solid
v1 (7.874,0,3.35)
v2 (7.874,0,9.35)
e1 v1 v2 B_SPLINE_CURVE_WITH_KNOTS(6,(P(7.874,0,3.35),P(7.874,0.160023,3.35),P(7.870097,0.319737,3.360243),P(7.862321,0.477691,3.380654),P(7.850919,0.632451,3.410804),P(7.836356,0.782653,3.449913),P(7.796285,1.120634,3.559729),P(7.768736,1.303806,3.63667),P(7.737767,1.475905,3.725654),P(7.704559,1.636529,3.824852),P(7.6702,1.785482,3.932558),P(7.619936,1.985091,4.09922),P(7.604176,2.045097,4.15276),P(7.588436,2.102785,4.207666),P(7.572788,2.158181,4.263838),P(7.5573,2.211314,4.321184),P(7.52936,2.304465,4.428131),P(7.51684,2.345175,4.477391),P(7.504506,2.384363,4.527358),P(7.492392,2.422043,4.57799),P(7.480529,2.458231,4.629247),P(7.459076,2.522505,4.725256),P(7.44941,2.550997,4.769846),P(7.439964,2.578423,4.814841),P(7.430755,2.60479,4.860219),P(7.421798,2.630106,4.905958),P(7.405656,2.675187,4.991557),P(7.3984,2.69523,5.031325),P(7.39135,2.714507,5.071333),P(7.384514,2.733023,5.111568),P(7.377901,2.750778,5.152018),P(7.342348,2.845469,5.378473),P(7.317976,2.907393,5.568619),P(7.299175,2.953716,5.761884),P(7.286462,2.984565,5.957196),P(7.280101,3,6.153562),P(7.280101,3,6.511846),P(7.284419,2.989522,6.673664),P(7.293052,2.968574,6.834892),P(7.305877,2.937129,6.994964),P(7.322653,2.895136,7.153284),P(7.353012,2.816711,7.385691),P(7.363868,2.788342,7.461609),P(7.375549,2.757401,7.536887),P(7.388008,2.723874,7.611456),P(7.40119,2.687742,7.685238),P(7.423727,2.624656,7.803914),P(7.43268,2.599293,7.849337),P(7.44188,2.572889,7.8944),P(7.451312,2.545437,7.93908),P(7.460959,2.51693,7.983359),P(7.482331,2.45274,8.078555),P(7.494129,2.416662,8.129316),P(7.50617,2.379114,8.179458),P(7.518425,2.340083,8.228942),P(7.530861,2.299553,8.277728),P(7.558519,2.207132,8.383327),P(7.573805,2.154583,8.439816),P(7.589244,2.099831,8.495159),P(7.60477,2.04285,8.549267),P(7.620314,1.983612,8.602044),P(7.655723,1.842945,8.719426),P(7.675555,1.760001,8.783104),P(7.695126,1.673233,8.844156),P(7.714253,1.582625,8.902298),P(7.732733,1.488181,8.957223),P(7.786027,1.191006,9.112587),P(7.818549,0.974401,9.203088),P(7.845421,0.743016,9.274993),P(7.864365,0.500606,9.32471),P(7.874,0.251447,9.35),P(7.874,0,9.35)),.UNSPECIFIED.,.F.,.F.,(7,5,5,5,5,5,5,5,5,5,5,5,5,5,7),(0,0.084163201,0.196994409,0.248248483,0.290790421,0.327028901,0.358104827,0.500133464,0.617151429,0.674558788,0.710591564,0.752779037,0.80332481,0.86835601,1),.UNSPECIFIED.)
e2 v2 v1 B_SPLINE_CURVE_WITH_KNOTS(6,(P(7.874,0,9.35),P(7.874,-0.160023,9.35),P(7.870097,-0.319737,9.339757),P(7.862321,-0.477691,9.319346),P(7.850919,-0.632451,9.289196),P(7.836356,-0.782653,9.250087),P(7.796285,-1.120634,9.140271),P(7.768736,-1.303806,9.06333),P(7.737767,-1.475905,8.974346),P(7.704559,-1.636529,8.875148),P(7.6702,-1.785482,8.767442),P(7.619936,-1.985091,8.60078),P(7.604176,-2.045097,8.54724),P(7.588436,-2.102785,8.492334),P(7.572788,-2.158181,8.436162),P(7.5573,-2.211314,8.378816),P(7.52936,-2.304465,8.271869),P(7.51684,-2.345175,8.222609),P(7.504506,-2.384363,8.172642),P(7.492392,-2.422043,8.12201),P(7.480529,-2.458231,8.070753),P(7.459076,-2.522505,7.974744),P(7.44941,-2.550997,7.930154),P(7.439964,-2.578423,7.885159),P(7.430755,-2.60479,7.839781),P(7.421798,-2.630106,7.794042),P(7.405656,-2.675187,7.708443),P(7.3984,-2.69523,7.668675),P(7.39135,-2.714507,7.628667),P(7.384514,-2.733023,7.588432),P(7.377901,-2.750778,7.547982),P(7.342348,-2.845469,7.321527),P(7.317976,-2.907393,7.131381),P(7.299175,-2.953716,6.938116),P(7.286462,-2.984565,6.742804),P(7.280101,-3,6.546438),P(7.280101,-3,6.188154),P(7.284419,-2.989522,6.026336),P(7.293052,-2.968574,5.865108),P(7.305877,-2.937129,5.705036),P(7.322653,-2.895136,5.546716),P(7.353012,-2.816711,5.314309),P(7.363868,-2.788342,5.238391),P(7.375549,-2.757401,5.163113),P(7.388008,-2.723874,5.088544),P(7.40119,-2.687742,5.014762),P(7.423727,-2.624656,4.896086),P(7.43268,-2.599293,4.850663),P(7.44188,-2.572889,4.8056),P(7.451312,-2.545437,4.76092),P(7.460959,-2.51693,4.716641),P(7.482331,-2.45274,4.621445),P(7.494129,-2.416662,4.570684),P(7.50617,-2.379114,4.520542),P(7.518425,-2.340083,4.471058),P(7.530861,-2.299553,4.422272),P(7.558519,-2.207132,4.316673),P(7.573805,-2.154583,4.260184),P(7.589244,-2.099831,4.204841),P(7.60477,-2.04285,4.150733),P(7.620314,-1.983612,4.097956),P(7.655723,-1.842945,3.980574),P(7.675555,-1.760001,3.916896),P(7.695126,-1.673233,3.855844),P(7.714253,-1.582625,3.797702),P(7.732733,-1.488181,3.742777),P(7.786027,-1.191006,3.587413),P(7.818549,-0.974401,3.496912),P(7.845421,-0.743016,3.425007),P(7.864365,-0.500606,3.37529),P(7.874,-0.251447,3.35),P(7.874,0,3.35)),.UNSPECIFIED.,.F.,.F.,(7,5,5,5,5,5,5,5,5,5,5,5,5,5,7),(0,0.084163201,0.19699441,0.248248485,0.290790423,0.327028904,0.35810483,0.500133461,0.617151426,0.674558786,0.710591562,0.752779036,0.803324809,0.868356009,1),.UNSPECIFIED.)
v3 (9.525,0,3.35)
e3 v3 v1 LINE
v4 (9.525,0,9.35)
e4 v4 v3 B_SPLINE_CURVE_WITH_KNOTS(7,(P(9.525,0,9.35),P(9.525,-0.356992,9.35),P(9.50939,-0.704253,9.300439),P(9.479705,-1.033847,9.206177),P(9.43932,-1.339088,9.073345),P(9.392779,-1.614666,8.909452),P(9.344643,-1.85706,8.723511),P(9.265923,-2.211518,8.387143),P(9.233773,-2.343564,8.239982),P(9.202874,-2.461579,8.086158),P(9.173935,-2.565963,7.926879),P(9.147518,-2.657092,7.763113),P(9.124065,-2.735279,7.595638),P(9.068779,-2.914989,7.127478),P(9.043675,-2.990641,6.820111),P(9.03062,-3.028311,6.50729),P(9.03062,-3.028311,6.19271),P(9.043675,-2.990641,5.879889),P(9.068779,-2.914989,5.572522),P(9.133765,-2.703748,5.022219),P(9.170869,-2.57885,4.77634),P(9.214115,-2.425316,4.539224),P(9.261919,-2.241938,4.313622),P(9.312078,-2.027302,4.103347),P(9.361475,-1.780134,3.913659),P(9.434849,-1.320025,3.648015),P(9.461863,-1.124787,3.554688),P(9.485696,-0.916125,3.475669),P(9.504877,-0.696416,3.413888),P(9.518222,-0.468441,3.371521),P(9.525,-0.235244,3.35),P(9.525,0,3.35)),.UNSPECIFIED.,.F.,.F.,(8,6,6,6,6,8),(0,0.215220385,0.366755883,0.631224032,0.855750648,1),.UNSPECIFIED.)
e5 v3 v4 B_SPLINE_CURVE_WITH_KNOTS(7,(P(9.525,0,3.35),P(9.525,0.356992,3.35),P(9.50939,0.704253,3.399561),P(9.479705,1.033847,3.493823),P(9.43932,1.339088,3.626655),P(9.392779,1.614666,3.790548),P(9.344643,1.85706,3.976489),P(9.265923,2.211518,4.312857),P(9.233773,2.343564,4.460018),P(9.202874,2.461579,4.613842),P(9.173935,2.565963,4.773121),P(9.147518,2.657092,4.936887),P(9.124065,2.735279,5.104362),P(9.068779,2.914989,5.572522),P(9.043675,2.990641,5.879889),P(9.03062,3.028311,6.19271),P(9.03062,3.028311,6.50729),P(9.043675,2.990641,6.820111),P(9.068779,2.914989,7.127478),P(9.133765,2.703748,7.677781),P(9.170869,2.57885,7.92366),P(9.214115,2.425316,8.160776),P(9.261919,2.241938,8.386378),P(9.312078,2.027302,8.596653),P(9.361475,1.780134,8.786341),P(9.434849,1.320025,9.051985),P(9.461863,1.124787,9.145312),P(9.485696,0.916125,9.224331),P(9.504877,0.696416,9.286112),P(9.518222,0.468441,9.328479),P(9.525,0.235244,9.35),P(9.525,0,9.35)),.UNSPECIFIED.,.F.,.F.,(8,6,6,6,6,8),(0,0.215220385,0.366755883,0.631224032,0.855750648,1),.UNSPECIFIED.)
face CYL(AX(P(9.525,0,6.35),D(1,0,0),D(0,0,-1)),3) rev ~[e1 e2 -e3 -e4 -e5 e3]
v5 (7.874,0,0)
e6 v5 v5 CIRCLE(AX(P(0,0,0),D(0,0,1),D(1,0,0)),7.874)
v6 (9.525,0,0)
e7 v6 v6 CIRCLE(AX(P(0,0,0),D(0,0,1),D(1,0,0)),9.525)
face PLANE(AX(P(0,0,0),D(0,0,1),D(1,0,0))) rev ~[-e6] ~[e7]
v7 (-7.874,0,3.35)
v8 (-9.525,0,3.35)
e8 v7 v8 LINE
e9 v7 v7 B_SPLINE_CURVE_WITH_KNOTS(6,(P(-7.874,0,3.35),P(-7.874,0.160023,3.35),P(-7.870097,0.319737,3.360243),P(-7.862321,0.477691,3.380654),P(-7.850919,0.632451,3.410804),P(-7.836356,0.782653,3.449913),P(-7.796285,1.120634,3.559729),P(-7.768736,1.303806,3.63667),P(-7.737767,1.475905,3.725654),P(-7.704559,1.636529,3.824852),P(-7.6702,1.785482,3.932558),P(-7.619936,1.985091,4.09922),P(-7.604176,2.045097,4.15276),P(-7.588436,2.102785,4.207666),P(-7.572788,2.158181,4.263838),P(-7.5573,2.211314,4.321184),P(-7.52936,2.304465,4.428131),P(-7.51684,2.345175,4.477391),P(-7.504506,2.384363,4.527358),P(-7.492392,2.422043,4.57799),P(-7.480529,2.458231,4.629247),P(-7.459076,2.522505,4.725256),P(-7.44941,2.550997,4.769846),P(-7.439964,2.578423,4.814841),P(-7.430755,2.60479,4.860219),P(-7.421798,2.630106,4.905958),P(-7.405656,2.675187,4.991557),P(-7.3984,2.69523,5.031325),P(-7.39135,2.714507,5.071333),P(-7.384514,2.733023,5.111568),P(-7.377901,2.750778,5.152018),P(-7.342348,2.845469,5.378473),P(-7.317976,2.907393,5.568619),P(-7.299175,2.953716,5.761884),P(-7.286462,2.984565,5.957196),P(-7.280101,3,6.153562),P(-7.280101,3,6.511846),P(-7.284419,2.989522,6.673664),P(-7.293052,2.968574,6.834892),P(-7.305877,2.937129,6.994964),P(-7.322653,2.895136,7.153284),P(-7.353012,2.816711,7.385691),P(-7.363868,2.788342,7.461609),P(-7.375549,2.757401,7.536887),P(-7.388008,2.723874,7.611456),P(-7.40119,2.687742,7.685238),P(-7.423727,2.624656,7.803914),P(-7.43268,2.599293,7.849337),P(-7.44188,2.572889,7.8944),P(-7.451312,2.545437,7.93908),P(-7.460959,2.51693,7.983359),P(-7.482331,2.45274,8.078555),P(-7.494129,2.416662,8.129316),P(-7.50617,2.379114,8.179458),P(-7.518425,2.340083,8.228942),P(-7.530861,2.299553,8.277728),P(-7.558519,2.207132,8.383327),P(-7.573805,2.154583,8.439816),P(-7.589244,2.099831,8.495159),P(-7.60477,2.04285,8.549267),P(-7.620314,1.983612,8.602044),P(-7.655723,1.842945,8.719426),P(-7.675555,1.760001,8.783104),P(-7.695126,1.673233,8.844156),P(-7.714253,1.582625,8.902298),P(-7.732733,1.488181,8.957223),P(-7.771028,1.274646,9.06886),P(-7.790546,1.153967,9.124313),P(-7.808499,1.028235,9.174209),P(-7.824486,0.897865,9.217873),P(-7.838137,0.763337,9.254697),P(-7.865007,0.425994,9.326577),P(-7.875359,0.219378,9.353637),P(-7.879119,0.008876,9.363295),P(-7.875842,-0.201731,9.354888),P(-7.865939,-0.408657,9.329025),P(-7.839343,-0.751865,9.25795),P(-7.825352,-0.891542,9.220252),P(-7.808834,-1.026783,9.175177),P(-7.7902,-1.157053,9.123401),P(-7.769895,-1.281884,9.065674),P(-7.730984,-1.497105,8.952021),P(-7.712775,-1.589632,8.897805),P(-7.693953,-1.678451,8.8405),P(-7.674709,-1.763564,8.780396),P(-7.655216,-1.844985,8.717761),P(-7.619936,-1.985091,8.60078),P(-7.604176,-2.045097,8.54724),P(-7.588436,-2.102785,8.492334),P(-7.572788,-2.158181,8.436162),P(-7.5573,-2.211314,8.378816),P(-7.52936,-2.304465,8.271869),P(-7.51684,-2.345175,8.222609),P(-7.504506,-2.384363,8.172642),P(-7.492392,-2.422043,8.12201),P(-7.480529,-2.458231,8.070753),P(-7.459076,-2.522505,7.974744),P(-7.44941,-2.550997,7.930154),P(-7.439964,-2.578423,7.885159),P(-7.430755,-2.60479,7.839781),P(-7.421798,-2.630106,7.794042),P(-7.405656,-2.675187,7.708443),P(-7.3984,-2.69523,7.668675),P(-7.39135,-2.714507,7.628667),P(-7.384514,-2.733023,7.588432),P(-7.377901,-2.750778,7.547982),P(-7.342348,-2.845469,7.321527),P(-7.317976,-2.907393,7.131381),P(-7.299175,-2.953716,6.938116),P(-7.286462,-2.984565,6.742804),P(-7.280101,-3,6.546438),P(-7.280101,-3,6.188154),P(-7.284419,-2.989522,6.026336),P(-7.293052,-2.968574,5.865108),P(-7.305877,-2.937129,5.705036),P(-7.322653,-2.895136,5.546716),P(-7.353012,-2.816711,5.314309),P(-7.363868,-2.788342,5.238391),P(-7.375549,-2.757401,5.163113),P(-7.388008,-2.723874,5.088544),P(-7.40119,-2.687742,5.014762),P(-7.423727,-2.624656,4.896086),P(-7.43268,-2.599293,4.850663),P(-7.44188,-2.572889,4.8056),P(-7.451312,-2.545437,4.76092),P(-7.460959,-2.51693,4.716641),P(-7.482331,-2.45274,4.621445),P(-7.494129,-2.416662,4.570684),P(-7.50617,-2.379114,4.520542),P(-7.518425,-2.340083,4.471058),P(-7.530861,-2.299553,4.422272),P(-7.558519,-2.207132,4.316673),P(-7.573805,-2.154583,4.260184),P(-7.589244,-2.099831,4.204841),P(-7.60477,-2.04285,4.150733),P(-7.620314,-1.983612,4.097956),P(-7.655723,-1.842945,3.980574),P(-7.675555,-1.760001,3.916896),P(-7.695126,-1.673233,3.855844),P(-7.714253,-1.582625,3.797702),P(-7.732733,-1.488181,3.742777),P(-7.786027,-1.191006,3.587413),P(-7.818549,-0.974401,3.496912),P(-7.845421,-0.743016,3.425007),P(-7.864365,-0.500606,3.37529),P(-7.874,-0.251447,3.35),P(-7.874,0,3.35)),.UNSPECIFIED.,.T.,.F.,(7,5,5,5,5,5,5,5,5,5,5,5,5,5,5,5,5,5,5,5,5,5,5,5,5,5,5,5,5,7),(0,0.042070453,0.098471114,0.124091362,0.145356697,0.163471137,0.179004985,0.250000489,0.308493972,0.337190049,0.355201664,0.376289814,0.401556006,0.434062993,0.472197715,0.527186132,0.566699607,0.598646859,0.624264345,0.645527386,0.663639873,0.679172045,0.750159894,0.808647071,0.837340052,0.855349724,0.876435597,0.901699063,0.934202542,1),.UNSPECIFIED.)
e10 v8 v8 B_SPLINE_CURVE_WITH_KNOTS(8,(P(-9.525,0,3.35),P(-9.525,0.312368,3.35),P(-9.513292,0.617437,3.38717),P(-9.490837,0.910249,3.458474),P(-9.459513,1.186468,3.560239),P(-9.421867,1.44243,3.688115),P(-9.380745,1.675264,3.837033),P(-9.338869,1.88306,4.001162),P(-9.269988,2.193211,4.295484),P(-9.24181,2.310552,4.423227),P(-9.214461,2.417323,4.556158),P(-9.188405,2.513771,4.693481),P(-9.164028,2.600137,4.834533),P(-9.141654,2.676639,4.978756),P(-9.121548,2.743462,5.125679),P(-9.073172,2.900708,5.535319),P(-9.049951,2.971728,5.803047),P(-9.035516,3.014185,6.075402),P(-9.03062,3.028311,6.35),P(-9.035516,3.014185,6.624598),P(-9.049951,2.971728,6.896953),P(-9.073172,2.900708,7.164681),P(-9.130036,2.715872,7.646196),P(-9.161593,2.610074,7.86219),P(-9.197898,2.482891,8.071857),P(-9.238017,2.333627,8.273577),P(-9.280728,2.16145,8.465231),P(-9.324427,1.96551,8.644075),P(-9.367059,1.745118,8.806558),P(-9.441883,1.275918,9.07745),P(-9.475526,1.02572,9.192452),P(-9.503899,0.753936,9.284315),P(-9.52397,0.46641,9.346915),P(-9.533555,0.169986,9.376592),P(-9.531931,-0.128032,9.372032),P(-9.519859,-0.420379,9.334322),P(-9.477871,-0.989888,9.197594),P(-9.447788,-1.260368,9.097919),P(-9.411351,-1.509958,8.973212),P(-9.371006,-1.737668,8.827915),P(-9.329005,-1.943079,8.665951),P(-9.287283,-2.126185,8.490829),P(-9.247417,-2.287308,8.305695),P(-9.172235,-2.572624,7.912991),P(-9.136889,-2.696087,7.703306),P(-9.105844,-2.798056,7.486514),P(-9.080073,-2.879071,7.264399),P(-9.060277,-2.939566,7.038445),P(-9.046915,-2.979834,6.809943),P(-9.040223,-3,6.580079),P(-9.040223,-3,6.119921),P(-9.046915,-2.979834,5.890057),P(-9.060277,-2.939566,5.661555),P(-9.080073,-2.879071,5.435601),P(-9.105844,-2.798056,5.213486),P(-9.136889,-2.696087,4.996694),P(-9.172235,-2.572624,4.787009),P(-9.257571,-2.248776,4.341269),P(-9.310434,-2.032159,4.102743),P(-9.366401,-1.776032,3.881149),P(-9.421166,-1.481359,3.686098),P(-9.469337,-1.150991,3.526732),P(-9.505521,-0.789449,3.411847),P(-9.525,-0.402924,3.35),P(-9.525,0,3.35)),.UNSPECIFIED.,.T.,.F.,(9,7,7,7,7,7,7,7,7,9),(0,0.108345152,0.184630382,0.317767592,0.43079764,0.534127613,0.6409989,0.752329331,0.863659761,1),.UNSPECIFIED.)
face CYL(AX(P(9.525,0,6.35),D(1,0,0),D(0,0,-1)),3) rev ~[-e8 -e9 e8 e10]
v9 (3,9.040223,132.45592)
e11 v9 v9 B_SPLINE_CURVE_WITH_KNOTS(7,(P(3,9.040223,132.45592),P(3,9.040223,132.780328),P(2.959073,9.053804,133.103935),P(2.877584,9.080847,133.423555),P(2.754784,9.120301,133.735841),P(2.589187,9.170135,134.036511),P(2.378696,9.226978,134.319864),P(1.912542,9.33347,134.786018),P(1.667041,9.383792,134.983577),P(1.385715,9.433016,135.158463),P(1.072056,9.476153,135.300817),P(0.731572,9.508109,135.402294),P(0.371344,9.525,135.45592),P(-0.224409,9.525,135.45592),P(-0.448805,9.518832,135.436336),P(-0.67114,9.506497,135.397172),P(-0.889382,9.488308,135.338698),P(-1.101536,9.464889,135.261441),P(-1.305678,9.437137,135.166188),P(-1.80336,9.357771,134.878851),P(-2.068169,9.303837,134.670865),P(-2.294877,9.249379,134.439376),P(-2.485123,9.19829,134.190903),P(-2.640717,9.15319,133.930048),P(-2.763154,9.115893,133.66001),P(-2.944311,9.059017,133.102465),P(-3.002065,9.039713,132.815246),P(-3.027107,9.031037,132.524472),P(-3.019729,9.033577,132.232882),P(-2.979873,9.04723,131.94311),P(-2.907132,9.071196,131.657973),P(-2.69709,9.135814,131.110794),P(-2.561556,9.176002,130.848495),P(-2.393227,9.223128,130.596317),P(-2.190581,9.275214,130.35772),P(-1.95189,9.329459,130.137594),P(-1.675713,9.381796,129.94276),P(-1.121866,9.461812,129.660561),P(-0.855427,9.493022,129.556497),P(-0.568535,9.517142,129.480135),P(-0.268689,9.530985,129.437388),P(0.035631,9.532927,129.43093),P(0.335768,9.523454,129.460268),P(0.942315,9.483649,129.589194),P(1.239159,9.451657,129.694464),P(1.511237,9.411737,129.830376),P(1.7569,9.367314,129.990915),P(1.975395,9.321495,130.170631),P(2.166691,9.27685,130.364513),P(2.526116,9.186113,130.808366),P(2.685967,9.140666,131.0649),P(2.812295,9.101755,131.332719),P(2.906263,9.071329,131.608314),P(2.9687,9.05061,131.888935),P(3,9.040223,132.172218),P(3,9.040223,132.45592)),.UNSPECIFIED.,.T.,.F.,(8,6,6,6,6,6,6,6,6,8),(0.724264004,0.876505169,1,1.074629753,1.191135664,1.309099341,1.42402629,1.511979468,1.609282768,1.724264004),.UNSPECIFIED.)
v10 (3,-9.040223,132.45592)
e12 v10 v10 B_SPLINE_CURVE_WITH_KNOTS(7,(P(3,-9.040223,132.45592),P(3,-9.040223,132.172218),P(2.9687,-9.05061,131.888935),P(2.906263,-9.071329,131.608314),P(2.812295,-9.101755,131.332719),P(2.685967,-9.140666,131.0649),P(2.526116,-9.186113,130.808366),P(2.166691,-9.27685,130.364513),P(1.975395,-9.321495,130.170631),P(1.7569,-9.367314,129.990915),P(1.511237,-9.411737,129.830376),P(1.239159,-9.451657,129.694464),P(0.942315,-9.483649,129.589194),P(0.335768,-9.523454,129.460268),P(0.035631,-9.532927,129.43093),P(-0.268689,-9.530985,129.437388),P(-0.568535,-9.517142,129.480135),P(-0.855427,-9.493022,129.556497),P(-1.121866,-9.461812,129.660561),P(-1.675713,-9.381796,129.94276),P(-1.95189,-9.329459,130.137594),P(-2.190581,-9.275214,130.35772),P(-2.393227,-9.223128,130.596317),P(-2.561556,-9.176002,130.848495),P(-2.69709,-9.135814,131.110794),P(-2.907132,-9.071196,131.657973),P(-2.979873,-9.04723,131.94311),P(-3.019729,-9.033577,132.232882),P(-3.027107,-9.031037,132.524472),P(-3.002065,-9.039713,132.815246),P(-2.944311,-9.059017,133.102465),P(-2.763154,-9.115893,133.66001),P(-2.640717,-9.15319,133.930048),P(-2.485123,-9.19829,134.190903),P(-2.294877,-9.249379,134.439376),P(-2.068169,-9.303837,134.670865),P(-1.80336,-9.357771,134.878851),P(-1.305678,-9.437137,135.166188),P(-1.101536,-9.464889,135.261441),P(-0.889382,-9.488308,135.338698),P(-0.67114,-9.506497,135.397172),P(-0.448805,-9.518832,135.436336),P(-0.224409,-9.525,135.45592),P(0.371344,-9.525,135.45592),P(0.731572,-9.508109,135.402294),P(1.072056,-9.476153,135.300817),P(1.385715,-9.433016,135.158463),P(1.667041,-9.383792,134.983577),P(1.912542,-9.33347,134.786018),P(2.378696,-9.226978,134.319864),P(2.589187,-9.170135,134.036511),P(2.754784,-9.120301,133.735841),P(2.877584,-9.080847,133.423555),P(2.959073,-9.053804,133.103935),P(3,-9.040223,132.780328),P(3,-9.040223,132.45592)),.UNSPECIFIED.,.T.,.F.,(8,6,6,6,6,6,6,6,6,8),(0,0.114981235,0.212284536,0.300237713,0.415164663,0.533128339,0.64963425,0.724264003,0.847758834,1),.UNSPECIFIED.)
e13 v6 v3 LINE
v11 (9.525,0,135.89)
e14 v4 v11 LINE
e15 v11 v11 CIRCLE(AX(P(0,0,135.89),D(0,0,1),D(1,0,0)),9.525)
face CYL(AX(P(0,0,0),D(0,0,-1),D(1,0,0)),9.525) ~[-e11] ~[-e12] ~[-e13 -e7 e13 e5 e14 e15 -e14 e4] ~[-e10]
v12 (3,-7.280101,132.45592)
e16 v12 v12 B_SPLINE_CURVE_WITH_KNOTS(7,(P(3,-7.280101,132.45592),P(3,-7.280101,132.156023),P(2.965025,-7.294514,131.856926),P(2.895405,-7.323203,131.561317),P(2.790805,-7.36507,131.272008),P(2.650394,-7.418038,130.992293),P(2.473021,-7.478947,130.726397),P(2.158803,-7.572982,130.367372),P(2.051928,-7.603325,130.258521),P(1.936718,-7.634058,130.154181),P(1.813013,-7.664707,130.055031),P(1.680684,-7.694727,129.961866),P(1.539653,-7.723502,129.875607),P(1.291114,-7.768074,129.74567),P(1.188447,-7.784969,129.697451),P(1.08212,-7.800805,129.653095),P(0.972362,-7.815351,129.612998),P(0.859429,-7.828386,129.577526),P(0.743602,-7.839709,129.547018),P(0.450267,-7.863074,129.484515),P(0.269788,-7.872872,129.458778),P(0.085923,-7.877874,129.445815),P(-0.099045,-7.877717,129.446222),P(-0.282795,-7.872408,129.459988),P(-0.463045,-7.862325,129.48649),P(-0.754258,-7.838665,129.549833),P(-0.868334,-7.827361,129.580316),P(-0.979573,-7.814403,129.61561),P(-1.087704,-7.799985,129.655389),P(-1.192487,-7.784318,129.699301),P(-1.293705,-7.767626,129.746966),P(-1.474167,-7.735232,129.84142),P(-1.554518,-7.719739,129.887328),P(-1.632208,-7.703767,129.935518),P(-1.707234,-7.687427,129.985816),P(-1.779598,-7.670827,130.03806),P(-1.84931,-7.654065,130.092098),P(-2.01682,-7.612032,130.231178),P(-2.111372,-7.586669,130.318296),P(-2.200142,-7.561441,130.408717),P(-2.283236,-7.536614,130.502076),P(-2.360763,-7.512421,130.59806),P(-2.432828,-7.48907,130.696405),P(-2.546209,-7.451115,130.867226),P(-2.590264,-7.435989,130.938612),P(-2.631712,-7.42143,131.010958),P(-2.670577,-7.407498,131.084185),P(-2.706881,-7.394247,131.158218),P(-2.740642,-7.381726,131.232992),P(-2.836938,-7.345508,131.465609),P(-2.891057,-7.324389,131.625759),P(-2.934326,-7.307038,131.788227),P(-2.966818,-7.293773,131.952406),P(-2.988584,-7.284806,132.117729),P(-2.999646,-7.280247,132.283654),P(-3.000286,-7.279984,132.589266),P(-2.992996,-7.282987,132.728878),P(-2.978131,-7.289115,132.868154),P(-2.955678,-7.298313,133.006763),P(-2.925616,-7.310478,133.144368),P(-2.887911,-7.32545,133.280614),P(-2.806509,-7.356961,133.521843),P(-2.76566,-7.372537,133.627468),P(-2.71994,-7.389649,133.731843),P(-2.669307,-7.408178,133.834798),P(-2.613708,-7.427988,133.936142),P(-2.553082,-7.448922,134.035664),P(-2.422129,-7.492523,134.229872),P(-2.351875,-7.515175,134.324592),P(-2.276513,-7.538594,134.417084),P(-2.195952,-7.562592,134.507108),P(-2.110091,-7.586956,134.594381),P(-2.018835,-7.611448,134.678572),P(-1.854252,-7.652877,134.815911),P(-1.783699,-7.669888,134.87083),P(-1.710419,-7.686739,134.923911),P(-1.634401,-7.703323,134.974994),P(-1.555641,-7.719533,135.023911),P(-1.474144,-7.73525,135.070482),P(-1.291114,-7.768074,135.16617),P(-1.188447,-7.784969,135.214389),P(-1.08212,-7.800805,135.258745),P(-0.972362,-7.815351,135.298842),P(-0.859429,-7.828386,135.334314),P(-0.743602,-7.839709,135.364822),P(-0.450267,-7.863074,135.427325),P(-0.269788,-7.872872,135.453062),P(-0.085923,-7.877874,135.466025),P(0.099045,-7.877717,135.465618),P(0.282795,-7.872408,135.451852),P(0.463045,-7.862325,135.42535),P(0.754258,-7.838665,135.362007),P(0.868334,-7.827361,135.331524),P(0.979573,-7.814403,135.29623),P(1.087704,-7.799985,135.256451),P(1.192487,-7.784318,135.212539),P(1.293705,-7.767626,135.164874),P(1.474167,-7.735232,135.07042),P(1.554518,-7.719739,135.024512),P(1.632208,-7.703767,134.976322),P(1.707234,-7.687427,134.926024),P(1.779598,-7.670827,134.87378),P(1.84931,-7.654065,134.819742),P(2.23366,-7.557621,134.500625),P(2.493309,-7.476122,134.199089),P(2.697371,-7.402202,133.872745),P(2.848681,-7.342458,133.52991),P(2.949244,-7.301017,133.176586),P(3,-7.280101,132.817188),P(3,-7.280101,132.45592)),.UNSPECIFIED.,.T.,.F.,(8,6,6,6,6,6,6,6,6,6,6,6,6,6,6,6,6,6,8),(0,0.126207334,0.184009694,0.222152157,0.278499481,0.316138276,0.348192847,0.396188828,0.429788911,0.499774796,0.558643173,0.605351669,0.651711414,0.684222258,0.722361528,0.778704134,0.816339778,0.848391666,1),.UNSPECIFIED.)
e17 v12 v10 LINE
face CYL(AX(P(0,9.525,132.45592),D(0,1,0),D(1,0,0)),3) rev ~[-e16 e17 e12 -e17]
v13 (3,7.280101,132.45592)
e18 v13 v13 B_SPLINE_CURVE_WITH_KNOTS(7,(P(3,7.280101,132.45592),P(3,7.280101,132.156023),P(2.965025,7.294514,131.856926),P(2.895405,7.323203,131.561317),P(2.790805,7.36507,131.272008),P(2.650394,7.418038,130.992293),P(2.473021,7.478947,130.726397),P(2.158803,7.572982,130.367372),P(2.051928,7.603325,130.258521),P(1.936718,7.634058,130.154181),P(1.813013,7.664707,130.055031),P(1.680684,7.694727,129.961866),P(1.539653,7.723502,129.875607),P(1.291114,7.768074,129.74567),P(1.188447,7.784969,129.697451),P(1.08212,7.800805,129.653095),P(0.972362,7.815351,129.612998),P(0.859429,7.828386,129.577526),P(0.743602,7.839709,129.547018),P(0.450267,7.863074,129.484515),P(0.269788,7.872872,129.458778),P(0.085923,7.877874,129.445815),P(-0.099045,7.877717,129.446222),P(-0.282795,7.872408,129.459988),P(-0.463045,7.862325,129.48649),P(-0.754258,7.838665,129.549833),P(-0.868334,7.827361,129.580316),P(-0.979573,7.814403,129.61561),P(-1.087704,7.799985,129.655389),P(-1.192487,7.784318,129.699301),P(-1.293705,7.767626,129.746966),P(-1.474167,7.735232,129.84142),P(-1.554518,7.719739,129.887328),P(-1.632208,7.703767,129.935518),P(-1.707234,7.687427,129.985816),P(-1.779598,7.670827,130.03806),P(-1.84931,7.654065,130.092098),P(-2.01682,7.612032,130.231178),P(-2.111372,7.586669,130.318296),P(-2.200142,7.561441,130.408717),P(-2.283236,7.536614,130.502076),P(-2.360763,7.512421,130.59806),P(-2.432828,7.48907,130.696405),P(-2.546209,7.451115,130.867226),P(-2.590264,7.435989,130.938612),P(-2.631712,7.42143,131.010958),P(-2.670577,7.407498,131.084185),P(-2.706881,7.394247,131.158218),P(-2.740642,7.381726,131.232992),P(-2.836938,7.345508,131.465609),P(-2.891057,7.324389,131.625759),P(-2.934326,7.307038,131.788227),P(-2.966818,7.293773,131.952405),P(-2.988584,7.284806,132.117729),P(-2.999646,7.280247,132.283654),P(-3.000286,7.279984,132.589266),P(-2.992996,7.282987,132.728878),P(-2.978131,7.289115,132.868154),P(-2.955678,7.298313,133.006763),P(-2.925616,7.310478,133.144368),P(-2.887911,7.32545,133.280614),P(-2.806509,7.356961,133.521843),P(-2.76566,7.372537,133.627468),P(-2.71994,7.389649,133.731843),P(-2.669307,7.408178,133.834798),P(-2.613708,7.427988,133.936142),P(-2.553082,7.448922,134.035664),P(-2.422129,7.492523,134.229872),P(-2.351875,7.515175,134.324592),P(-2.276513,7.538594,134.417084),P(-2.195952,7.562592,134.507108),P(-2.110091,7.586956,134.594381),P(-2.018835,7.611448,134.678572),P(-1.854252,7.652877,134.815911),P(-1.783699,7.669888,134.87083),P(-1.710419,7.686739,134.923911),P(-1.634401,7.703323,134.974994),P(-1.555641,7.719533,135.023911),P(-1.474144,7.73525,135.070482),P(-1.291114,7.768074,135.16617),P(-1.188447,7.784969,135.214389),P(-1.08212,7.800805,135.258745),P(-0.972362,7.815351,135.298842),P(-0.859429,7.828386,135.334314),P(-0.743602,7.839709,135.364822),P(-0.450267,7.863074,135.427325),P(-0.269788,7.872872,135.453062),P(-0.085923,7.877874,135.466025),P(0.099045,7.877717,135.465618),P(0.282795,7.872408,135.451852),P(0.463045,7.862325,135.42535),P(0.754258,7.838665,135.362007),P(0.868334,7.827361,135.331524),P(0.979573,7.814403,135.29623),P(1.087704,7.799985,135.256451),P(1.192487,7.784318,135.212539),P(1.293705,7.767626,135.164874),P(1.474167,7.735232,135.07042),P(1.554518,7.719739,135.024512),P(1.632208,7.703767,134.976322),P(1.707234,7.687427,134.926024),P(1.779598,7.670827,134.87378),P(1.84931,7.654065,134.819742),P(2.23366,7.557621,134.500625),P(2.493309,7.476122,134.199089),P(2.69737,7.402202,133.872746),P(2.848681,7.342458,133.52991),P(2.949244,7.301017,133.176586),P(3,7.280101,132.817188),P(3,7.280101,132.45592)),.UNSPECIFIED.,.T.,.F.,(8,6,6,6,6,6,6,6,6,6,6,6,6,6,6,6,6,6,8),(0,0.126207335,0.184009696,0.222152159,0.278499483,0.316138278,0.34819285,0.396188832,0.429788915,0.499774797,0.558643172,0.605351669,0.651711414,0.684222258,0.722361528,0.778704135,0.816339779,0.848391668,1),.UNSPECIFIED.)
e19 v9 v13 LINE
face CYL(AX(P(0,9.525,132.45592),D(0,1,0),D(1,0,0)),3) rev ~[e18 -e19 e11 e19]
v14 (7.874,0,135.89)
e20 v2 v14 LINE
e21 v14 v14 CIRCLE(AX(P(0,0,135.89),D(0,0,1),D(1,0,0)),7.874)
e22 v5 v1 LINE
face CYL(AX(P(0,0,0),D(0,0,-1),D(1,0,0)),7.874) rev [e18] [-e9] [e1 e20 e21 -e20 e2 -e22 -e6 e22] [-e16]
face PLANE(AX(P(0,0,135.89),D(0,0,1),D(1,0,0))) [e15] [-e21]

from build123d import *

# Parameters (mm, degrees)
SKETCH1_R           = 9.525
SKETCH1_R_2         = 7.874
BOSS_EXTRUDE1_DEPTH = 135.89
SKETCH2_R           = 3
CUT_EXTRUDE1_DEPTH  = 138.80592
SKETCH3_R           = 3
CUT_EXTRUDE2_DEPTH  = 138.80592


with BuildPart() as part:
    # Sketch1 → Boss-Extrude1 (new body)
    with BuildSketch(Plane.XY):
        Circle(SKETCH1_R)
        Circle(SKETCH1_R_2, mode=Mode.SUBTRACT)
    extrude(amount=BOSS_EXTRUDE1_DEPTH)

    # Sketch2 → Cut-Extrude1 (cut)
    with BuildSketch(Plane(origin=(0, 9.525, 0), x_dir=(1, 0, 0), z_dir=(0, 1, 0))):
        with Locations((0, -132.45592)):
            Circle(SKETCH2_R)
    extrude(amount=-CUT_EXTRUDE1_DEPTH, mode=Mode.SUBTRACT)

    # Sketch3 → Cut-Extrude2 (cut)
    with BuildSketch(Plane(origin=(9.525, 0, 0), x_dir=(0, 0, -1), z_dir=(1, 0, 0))):
        with Locations((-6.35, 0)):
            Circle(SKETCH3_R)
    extrude(amount=-CUT_EXTRUDE2_DEPTH, mode=Mode.SUBTRACT)


solid = part.part
